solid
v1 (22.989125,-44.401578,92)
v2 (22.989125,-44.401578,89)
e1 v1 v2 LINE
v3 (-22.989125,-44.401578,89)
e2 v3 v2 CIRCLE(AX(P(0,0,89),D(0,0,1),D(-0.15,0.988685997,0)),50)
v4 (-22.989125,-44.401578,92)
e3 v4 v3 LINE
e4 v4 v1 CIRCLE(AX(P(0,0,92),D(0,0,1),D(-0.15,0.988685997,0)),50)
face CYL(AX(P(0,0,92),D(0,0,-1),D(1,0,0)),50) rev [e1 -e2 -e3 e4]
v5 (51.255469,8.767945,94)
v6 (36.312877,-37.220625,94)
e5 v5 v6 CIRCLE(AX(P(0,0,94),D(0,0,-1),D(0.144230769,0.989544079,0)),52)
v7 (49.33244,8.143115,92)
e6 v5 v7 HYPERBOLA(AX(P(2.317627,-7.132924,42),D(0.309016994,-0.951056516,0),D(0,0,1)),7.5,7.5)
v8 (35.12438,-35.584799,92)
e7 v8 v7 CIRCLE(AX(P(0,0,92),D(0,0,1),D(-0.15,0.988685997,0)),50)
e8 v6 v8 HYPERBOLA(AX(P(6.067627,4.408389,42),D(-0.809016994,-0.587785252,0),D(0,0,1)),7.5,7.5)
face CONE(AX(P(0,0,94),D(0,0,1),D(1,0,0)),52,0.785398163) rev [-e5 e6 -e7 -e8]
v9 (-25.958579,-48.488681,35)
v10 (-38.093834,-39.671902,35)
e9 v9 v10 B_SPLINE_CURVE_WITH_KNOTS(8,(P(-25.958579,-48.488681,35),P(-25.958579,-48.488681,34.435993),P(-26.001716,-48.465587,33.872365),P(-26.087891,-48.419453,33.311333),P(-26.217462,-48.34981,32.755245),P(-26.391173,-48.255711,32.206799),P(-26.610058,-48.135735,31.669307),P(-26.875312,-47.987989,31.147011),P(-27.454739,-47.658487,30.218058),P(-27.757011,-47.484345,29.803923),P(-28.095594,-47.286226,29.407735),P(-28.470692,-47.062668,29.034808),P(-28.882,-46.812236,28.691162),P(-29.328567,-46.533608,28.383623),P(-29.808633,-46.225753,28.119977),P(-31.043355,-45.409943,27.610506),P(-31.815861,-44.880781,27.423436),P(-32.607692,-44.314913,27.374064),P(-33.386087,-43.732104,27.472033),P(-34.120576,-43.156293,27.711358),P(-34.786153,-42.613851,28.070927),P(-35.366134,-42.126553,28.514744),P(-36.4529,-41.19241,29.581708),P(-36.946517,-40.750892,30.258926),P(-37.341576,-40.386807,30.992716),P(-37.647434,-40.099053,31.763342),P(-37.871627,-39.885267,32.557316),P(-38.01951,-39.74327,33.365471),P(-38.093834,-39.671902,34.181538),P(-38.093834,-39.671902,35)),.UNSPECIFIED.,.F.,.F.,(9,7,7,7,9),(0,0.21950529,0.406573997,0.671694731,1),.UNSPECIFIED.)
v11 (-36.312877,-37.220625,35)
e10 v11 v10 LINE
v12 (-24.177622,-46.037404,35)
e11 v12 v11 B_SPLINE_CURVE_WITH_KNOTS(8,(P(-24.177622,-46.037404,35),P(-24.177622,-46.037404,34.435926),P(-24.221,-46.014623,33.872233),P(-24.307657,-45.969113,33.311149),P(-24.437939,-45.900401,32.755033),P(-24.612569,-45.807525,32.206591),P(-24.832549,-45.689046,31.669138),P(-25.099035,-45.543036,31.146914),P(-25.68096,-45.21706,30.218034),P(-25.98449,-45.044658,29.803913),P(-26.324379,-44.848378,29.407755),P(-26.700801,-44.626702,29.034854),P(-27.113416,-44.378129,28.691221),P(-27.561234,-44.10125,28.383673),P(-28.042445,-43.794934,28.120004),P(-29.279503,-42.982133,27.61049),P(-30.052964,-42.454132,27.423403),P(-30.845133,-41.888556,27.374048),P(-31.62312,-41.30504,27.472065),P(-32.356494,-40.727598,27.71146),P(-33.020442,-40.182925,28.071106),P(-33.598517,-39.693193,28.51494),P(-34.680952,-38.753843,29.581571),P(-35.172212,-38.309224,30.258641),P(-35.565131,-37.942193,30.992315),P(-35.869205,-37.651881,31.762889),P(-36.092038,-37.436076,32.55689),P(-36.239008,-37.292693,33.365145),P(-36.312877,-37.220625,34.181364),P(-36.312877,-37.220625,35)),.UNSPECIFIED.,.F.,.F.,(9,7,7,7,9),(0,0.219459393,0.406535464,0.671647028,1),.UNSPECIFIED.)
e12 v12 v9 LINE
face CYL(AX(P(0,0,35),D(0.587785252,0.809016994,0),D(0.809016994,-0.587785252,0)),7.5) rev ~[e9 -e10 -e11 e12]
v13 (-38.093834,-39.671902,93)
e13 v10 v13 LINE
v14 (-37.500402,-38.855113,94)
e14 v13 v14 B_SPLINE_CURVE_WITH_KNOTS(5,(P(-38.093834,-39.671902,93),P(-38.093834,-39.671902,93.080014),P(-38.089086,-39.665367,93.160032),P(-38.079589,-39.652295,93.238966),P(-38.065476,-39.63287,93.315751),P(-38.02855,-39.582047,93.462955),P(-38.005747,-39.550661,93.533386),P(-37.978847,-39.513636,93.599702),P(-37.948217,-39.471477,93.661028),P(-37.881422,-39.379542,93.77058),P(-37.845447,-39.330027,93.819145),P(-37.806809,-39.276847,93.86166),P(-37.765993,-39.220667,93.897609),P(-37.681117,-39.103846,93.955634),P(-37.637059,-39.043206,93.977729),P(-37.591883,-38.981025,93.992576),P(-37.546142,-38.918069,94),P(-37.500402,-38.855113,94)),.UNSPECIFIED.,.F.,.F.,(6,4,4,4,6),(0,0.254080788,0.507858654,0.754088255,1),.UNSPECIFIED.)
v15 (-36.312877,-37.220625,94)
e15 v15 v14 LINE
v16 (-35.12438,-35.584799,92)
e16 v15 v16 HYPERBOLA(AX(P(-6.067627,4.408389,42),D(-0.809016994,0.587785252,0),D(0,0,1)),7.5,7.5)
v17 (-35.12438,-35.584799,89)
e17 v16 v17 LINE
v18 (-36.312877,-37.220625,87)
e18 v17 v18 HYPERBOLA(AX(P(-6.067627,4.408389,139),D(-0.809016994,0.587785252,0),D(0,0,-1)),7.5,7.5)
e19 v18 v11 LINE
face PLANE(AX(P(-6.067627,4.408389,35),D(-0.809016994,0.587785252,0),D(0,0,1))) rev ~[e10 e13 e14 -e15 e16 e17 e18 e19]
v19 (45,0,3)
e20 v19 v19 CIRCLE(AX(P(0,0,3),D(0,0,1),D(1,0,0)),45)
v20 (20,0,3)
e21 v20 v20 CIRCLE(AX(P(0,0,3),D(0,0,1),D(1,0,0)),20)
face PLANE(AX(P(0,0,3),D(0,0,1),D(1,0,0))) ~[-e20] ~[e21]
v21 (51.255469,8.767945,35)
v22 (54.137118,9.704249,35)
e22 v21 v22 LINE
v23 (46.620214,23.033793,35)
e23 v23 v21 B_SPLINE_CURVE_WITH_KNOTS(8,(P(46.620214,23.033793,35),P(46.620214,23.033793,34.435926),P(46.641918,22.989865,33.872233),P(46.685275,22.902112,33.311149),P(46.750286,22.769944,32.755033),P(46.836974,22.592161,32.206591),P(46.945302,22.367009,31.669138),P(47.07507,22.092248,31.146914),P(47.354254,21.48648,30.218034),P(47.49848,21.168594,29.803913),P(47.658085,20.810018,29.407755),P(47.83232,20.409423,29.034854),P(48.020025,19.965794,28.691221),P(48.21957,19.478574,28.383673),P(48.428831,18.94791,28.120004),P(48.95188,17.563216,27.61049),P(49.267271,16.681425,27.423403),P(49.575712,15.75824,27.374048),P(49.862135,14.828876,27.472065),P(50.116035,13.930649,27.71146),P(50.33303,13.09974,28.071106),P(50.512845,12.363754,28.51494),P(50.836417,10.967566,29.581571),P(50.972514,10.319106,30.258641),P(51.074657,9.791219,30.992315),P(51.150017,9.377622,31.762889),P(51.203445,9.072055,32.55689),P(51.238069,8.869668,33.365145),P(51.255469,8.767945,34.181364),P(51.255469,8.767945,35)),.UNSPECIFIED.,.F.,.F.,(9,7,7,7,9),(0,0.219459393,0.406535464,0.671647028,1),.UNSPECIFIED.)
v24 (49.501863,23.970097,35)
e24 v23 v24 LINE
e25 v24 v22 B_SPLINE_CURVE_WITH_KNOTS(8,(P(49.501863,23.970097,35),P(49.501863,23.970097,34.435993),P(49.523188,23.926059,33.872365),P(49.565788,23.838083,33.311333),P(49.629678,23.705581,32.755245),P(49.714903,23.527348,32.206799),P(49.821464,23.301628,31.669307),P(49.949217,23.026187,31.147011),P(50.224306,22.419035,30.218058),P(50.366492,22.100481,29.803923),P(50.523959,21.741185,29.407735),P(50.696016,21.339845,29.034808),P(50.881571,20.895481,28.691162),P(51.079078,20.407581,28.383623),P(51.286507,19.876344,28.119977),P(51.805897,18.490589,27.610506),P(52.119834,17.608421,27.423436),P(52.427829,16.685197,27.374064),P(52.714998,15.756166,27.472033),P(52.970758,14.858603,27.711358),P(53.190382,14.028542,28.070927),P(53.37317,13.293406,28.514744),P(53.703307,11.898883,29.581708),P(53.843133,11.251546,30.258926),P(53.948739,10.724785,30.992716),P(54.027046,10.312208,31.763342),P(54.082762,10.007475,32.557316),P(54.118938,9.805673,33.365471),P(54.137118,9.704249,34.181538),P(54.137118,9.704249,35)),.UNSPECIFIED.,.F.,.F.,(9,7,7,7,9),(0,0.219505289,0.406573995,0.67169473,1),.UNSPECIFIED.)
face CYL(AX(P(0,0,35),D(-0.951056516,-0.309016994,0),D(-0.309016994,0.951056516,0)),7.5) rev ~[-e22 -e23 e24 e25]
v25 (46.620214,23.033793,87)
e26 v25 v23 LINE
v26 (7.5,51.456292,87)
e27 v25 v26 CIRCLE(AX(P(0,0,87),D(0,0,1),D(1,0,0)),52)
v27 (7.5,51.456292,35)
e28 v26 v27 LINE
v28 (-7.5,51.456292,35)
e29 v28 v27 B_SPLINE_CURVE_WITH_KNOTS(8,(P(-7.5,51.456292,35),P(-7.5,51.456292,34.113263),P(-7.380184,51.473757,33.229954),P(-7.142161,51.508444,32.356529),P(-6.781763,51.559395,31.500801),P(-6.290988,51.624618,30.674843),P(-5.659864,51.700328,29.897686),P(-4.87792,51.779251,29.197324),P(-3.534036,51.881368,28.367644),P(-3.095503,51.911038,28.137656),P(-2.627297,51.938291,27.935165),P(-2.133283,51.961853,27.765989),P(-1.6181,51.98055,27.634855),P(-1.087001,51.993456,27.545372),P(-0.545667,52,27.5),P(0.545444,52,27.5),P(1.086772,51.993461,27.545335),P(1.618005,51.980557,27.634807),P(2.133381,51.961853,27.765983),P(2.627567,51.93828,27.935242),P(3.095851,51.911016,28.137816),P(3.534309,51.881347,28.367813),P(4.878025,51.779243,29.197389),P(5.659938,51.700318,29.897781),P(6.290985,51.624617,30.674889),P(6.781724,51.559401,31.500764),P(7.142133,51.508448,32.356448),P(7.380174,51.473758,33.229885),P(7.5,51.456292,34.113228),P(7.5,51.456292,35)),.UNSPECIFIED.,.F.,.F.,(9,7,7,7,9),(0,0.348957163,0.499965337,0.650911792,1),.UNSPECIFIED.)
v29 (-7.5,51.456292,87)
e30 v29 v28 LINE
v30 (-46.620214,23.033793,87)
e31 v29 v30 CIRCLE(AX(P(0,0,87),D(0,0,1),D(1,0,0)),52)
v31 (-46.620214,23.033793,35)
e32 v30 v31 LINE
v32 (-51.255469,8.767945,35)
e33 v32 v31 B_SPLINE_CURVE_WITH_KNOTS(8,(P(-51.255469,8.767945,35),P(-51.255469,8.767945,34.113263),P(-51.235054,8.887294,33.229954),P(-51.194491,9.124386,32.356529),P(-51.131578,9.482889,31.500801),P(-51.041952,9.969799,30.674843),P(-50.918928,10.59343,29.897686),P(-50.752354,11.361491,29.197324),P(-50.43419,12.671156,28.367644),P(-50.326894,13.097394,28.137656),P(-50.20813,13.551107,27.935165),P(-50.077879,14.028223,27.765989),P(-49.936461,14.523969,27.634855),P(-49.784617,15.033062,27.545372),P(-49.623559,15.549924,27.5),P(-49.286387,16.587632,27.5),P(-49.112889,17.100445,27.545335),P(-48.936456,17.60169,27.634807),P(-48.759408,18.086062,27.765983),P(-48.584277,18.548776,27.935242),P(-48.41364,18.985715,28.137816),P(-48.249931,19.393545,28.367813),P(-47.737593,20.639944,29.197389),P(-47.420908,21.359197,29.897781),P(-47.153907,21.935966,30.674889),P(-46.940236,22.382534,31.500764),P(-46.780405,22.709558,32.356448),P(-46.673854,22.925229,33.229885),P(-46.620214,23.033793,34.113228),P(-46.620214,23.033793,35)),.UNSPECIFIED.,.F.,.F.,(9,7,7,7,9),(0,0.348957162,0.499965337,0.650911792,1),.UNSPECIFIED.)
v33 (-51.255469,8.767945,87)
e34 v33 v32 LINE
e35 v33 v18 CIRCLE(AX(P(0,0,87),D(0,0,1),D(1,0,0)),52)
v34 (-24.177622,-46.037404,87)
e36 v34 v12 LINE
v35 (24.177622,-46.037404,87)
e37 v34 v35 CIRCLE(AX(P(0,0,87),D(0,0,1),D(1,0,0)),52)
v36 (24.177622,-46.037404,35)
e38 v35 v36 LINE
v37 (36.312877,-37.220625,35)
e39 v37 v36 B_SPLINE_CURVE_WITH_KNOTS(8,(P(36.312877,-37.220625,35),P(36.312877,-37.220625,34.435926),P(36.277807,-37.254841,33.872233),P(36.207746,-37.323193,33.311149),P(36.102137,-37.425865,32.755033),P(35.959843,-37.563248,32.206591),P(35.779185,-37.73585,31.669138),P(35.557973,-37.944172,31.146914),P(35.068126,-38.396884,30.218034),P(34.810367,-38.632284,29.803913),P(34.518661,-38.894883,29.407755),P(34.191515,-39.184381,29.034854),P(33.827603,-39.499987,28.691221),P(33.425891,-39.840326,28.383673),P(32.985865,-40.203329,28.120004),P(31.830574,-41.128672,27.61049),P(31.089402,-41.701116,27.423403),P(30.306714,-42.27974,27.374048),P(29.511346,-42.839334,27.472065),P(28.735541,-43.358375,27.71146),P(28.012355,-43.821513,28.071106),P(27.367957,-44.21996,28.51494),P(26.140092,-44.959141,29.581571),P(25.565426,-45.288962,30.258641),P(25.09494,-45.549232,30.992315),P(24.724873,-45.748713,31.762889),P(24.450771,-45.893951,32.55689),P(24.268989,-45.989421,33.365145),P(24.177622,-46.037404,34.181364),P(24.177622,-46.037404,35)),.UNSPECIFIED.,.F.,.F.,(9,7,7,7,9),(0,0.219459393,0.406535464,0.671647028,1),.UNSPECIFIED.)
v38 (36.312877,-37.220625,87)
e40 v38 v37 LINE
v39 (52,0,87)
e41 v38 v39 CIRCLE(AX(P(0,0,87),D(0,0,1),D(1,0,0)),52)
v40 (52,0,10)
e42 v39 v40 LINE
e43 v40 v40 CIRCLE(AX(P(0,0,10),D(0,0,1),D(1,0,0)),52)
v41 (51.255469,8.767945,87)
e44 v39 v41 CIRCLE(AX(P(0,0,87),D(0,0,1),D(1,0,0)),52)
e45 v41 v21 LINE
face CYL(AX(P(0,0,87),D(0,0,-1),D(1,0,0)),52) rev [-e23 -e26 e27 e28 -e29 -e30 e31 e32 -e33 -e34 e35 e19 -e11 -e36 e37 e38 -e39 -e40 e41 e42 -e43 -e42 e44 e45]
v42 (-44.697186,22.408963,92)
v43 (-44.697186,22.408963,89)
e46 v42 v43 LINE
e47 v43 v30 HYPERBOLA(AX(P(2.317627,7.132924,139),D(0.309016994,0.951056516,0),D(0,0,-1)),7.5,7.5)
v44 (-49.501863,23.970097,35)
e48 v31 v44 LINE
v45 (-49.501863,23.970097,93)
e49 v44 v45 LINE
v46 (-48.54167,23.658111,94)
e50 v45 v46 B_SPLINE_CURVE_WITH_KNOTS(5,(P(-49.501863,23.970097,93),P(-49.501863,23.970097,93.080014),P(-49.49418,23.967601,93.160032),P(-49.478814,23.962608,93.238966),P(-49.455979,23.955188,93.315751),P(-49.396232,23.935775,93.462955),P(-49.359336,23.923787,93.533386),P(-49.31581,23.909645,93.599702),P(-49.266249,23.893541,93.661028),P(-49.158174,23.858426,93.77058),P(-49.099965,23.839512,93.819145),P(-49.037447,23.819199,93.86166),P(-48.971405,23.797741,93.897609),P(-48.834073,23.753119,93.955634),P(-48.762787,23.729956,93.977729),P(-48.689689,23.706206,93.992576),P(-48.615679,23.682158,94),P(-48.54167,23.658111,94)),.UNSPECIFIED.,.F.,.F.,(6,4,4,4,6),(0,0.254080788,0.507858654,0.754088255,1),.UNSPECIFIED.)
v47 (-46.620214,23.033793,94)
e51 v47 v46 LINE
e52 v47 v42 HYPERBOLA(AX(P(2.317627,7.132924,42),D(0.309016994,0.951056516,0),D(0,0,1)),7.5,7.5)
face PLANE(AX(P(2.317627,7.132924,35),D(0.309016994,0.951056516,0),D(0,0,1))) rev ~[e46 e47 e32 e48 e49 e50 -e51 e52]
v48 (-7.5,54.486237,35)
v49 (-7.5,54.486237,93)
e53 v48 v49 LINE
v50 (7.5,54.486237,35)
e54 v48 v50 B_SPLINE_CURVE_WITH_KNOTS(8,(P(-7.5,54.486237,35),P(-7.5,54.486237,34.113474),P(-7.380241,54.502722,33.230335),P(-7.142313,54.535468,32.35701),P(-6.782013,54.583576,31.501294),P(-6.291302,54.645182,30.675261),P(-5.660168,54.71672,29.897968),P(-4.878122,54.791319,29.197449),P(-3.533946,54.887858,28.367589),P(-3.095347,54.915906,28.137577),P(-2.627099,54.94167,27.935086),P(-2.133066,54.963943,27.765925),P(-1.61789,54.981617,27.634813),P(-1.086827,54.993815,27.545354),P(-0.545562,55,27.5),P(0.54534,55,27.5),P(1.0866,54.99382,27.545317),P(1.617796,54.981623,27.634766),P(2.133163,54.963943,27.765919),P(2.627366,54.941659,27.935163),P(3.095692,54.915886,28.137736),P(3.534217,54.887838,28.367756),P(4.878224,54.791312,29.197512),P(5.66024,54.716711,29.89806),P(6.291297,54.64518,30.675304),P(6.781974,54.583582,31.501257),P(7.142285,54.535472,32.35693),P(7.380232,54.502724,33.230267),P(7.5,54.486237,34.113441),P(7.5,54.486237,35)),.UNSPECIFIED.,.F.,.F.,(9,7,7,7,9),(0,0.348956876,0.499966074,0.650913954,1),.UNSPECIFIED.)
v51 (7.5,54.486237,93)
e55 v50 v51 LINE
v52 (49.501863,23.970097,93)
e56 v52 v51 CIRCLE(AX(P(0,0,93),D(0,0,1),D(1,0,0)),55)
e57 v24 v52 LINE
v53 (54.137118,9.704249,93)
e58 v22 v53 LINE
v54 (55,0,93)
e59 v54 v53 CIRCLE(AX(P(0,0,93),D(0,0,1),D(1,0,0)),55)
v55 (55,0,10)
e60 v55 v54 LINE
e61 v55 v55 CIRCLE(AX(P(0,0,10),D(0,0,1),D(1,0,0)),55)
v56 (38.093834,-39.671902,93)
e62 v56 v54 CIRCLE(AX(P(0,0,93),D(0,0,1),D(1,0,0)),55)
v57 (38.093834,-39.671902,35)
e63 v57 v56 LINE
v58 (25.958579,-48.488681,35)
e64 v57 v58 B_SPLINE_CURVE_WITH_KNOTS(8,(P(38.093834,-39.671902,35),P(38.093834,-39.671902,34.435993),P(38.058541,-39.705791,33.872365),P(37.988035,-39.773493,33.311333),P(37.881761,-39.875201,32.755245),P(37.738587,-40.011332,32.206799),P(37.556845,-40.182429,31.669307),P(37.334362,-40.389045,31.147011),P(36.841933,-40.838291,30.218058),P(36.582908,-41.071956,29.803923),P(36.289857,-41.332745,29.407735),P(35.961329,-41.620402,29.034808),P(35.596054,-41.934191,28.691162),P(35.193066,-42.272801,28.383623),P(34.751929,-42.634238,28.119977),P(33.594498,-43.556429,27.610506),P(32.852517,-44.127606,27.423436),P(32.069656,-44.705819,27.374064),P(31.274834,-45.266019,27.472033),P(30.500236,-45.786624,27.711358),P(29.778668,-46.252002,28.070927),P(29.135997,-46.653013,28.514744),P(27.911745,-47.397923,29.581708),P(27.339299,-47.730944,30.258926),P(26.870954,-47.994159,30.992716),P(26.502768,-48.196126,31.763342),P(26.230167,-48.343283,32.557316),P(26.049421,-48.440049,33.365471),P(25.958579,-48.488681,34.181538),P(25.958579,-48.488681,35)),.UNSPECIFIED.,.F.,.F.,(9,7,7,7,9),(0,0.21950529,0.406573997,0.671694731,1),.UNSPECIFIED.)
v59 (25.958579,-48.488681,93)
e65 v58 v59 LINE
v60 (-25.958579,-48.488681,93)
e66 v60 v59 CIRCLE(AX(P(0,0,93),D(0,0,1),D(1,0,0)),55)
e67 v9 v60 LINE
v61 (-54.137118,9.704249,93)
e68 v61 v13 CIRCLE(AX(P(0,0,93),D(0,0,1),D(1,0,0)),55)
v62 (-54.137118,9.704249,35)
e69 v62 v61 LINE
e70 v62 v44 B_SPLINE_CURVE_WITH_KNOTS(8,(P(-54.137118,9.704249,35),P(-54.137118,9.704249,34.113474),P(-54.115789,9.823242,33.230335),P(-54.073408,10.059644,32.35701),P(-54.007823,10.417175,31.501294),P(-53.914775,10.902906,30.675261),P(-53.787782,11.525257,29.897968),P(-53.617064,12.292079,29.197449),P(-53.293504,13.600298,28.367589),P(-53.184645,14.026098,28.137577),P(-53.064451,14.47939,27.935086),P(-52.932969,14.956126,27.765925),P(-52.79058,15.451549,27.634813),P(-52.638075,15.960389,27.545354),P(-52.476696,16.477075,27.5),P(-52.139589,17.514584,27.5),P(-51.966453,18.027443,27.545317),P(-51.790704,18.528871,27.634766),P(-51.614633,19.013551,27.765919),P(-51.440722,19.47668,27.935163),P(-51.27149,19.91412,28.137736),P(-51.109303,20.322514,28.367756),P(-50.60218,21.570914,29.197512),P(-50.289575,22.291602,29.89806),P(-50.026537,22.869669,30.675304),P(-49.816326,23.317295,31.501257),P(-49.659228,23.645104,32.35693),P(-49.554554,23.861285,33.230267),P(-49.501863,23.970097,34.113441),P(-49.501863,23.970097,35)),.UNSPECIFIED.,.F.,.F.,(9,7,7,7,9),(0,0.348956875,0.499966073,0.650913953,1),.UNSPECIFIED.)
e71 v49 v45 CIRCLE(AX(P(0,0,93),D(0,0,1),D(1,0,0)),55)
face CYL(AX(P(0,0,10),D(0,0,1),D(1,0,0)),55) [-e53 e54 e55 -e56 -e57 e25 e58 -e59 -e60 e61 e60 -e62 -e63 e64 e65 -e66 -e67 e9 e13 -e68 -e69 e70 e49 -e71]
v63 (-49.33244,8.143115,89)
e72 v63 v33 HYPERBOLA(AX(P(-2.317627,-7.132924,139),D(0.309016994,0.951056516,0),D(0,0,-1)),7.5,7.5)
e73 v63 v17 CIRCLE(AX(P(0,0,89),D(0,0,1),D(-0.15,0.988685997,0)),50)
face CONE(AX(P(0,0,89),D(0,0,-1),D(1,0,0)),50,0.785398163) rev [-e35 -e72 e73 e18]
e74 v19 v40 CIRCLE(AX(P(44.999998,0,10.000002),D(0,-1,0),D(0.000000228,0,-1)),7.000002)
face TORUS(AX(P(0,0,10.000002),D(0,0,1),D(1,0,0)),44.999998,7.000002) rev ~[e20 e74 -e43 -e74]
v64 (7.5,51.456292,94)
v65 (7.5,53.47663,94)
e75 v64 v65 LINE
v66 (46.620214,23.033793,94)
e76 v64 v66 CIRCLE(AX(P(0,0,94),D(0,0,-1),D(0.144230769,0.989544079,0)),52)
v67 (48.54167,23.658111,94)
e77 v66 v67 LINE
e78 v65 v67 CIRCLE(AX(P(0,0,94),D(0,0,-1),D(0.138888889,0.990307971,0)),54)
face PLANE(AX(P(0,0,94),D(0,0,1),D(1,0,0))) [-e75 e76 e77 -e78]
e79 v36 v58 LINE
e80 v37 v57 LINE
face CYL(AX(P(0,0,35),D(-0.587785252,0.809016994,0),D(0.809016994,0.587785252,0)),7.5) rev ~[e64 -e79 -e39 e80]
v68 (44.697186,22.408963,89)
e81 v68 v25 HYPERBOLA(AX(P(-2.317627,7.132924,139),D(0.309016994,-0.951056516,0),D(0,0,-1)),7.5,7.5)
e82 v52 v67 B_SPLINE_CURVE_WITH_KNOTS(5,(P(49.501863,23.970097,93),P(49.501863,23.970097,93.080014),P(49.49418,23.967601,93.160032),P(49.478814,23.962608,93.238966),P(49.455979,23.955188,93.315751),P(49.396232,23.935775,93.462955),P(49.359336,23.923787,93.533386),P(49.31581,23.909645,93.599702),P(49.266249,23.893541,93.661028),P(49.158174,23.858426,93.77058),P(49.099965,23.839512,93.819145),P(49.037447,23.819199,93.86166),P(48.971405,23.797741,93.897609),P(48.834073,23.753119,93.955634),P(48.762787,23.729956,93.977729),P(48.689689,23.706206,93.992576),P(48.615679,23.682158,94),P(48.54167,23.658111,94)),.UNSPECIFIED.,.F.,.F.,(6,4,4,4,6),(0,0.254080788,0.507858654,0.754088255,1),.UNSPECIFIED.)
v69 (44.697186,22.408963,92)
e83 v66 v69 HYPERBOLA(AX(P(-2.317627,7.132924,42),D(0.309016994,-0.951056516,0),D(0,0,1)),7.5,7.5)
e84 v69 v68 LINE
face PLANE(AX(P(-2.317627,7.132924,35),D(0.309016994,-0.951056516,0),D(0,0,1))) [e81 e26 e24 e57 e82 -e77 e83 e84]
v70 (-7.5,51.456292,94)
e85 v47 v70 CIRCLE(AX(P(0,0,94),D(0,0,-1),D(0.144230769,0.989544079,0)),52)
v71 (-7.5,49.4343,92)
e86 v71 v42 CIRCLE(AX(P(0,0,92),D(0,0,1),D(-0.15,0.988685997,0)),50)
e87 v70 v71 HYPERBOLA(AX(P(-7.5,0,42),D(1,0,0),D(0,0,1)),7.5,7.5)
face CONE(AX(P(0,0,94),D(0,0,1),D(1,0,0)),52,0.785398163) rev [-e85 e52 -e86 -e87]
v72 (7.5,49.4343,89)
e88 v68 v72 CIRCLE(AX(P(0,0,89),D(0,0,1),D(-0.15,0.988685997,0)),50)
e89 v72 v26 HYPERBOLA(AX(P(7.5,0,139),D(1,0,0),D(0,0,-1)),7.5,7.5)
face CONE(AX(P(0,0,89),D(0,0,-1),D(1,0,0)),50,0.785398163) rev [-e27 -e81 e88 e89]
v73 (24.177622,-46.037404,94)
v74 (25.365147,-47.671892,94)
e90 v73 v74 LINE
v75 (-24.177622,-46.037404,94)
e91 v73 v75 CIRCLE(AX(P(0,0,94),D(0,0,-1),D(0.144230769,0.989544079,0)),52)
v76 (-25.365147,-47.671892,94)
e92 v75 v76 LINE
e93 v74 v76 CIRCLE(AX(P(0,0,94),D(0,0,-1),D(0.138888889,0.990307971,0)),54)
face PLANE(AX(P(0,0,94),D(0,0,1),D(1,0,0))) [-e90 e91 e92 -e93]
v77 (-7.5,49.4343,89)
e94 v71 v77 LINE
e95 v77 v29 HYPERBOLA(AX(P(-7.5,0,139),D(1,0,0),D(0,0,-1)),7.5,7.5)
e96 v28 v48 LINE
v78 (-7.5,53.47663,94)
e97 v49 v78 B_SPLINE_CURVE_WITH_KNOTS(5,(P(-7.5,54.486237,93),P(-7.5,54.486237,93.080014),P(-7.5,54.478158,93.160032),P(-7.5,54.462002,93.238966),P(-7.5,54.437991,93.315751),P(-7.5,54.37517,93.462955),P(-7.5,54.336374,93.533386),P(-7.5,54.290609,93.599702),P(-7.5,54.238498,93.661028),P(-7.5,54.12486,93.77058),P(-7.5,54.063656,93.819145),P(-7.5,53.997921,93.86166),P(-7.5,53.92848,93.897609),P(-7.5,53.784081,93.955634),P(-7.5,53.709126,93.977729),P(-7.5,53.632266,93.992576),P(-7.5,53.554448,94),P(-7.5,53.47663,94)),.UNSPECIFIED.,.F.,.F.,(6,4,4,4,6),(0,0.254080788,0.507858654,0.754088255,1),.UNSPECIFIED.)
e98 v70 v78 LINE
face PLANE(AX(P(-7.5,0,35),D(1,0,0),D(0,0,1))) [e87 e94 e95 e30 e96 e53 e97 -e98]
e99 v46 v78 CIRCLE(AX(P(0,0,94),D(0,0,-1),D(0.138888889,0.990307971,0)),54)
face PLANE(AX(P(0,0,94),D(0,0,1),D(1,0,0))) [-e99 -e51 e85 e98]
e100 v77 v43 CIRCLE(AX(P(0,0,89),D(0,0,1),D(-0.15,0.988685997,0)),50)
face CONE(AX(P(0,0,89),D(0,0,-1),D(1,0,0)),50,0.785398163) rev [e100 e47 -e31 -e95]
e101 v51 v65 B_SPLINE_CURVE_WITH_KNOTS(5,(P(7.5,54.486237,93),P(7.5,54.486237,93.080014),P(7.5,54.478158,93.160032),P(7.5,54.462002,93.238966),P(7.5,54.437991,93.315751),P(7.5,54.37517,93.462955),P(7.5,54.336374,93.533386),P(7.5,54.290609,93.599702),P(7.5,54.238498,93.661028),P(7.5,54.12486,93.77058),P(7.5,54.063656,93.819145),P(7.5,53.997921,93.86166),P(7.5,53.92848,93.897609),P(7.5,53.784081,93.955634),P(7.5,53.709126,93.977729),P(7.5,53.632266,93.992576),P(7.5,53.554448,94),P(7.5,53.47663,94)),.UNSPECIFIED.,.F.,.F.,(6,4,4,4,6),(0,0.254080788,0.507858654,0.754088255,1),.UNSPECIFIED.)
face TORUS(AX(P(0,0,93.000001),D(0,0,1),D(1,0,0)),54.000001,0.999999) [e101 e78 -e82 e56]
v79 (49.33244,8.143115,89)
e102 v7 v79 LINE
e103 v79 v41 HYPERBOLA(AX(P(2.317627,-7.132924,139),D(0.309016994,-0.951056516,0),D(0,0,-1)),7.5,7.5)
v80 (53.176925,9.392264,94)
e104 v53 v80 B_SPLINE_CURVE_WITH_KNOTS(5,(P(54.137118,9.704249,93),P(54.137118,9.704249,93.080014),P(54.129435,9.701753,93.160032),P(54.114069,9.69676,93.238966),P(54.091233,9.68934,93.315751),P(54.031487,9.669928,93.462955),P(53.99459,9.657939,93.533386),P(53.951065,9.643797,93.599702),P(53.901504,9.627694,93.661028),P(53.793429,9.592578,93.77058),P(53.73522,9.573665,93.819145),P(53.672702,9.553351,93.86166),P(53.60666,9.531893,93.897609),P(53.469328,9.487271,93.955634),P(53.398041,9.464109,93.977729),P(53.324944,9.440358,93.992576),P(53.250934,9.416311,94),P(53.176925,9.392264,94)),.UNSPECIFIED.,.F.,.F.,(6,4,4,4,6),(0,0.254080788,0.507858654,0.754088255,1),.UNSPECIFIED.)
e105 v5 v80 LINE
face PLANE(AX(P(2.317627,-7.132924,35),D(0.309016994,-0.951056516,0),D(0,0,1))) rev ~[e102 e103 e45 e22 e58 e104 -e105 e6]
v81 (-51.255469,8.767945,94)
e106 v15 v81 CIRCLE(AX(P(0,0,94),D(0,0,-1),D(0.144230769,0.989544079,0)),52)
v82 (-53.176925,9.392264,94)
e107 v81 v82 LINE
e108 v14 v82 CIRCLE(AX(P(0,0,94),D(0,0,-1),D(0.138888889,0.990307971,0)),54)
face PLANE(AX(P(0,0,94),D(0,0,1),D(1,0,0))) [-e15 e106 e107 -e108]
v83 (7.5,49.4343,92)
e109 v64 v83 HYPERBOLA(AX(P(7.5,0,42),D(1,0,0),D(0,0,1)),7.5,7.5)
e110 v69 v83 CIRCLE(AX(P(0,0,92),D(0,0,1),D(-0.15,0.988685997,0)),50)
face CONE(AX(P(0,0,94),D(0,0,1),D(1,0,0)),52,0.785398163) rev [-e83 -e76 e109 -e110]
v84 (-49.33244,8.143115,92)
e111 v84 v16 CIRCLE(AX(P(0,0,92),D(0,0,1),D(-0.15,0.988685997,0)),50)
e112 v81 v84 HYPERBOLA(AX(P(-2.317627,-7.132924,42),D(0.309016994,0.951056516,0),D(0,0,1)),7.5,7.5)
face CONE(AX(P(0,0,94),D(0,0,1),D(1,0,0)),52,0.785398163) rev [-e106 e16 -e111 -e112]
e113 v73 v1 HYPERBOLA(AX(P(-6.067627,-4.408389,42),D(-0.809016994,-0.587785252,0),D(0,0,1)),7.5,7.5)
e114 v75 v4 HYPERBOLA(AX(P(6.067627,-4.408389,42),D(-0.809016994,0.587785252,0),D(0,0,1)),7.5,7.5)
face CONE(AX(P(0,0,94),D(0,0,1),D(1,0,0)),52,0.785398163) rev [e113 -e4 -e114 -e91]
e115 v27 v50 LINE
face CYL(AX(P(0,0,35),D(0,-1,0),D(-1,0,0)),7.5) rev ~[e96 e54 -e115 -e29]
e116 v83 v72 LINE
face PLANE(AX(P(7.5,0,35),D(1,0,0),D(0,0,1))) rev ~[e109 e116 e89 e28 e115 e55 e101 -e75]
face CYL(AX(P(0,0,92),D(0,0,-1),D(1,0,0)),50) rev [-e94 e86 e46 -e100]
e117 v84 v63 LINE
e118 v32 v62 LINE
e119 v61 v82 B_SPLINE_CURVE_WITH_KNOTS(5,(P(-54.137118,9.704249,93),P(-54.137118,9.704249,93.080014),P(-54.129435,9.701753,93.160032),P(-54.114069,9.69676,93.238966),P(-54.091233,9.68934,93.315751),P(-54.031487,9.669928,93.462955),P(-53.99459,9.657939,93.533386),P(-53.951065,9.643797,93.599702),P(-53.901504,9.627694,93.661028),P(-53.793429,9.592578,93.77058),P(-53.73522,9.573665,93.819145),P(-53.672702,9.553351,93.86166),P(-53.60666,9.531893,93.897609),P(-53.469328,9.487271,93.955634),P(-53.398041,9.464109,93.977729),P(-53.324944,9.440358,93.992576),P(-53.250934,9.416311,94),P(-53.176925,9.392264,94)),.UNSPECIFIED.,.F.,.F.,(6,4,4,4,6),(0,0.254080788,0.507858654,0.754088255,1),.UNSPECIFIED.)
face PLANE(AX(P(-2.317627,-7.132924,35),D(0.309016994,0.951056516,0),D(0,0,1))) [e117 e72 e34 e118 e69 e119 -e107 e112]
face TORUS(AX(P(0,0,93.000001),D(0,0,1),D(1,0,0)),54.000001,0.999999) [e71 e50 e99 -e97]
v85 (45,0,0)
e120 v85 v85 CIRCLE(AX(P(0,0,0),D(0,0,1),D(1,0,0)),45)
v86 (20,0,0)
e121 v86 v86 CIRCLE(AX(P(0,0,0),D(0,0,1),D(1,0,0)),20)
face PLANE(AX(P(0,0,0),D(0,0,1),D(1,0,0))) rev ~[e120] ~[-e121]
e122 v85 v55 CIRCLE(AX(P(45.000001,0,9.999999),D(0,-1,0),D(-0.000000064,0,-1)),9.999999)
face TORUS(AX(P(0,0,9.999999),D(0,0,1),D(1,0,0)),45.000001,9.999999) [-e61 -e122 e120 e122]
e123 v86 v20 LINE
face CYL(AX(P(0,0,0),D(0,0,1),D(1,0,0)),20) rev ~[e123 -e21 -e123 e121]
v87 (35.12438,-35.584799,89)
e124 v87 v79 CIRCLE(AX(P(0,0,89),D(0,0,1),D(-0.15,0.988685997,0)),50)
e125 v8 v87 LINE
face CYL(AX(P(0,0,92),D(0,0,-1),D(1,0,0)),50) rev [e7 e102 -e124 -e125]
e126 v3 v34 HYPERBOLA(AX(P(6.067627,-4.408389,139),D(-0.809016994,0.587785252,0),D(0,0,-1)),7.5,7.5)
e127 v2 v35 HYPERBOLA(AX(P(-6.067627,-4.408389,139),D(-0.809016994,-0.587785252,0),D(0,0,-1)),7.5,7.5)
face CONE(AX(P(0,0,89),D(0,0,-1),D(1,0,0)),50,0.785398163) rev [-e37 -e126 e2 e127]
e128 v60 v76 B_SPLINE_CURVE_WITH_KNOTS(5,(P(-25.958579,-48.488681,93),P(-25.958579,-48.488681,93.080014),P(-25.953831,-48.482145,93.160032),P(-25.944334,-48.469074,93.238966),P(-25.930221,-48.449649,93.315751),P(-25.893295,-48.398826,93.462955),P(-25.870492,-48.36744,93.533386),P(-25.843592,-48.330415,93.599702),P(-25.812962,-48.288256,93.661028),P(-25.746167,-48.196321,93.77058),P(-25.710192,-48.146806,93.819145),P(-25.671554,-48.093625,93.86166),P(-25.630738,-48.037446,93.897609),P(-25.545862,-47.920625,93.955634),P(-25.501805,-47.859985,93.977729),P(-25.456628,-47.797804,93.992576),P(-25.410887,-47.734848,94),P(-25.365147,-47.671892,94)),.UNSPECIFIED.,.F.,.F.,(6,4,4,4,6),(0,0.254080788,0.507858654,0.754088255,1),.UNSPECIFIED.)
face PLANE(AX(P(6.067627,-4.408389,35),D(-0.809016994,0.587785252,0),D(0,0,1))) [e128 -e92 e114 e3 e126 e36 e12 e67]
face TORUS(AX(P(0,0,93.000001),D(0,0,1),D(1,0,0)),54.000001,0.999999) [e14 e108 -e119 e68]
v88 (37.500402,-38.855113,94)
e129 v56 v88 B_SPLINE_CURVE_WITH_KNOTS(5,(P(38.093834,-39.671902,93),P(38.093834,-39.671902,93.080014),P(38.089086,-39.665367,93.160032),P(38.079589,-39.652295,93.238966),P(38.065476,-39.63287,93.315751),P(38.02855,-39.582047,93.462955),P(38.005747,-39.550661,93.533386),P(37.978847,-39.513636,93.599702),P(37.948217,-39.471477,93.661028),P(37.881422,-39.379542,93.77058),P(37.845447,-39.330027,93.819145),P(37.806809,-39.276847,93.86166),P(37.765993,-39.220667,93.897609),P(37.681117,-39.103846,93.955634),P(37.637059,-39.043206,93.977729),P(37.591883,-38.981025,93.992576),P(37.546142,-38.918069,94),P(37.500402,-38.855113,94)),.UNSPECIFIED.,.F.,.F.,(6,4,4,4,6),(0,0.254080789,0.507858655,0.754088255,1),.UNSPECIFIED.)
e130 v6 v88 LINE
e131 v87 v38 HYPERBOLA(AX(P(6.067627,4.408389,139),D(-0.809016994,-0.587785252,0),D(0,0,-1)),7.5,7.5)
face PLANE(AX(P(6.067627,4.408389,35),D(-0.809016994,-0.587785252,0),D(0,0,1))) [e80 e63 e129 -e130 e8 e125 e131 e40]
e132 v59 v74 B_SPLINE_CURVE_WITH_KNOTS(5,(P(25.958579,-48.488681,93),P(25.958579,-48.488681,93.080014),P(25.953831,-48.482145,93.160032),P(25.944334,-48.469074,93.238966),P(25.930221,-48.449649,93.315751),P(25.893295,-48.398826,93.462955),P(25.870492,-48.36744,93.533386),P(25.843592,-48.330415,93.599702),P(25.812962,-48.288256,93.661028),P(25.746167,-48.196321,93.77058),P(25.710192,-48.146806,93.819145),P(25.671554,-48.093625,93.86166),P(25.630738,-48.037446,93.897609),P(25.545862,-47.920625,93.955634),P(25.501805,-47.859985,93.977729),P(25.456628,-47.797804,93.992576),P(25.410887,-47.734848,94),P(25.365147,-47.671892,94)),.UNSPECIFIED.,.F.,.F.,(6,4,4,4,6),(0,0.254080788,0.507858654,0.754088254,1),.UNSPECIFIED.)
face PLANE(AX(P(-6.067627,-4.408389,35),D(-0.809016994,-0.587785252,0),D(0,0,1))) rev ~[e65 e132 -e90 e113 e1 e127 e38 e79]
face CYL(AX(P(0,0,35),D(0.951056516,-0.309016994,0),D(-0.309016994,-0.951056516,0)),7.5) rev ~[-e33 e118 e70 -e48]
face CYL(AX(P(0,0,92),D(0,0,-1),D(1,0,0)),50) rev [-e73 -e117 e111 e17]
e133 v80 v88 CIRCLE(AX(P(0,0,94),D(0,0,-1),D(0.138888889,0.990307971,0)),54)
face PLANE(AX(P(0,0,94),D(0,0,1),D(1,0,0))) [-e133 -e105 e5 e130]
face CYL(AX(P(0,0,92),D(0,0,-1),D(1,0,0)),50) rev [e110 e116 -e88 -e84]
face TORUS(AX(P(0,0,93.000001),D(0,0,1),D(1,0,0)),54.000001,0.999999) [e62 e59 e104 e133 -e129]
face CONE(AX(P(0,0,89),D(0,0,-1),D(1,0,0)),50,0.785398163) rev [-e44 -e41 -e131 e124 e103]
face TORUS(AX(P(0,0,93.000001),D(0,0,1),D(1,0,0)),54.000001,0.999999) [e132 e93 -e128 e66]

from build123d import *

# Parameters (mm, degrees)
POCKET_DEPTH       = 418.517162
POLARPATTERN_COUNT = 5


with BuildPart() as part:
    # Sketch → Revolution (revolve)
    with BuildSketch(Plane.XZ):
        with BuildLine():
            ThreePointArc((45, 0), (52.071068, 2.928932), (55, 10))
            Line((55, 10), (55, 93))
            ThreePointArc((55, 93), (54.707107, 93.707107), (54, 94))
            Line((54, 94), (52, 94))
            Line((52, 94), (50, 92))
            Line((50, 92), (50, 89))
            Line((50, 89), (52, 87))
            Line((52, 87), (52, 10))
            ThreePointArc((45, 3), (49.949747, 5.050253), (52, 10))
            Line((20, 3), (45, 3))
            Line((20, 0), (20, 3))
            Line((45, 0), (20, 0))
        make_face()
    revolve(axis=Axis((0, 0, 0), (0, 0, 1)))

    # Sketch001 → Pocket (cut, through all)
    with BuildSketch(Plane.XZ):
        with BuildLine():
            ThreePointArc((-7.5, 35), (0, 27.5), (7.5, 35))
            Line((7.5, 35), (7.5, 159.742664))
            ThreePointArc((7.5, 159.742664), (0, 167.242664), (-7.5, 159.742664))
            Line((-7.5, 35), (-7.5, 159.742664))
        make_face()
    pocket = extrude(amount=-POCKET_DEPTH, mode=Mode.SUBTRACT)

    # PolarPattern: Pocket ×5 about axis
    polarpattern_axis = Axis((0, 0, 0), (0, 0, 1))
    for i in range(1, POLARPATTERN_COUNT):
        add(pocket.rotate(polarpattern_axis, i * 360 / POLARPATTERN_COUNT), mode=Mode.SUBTRACT)


solid = part.part
